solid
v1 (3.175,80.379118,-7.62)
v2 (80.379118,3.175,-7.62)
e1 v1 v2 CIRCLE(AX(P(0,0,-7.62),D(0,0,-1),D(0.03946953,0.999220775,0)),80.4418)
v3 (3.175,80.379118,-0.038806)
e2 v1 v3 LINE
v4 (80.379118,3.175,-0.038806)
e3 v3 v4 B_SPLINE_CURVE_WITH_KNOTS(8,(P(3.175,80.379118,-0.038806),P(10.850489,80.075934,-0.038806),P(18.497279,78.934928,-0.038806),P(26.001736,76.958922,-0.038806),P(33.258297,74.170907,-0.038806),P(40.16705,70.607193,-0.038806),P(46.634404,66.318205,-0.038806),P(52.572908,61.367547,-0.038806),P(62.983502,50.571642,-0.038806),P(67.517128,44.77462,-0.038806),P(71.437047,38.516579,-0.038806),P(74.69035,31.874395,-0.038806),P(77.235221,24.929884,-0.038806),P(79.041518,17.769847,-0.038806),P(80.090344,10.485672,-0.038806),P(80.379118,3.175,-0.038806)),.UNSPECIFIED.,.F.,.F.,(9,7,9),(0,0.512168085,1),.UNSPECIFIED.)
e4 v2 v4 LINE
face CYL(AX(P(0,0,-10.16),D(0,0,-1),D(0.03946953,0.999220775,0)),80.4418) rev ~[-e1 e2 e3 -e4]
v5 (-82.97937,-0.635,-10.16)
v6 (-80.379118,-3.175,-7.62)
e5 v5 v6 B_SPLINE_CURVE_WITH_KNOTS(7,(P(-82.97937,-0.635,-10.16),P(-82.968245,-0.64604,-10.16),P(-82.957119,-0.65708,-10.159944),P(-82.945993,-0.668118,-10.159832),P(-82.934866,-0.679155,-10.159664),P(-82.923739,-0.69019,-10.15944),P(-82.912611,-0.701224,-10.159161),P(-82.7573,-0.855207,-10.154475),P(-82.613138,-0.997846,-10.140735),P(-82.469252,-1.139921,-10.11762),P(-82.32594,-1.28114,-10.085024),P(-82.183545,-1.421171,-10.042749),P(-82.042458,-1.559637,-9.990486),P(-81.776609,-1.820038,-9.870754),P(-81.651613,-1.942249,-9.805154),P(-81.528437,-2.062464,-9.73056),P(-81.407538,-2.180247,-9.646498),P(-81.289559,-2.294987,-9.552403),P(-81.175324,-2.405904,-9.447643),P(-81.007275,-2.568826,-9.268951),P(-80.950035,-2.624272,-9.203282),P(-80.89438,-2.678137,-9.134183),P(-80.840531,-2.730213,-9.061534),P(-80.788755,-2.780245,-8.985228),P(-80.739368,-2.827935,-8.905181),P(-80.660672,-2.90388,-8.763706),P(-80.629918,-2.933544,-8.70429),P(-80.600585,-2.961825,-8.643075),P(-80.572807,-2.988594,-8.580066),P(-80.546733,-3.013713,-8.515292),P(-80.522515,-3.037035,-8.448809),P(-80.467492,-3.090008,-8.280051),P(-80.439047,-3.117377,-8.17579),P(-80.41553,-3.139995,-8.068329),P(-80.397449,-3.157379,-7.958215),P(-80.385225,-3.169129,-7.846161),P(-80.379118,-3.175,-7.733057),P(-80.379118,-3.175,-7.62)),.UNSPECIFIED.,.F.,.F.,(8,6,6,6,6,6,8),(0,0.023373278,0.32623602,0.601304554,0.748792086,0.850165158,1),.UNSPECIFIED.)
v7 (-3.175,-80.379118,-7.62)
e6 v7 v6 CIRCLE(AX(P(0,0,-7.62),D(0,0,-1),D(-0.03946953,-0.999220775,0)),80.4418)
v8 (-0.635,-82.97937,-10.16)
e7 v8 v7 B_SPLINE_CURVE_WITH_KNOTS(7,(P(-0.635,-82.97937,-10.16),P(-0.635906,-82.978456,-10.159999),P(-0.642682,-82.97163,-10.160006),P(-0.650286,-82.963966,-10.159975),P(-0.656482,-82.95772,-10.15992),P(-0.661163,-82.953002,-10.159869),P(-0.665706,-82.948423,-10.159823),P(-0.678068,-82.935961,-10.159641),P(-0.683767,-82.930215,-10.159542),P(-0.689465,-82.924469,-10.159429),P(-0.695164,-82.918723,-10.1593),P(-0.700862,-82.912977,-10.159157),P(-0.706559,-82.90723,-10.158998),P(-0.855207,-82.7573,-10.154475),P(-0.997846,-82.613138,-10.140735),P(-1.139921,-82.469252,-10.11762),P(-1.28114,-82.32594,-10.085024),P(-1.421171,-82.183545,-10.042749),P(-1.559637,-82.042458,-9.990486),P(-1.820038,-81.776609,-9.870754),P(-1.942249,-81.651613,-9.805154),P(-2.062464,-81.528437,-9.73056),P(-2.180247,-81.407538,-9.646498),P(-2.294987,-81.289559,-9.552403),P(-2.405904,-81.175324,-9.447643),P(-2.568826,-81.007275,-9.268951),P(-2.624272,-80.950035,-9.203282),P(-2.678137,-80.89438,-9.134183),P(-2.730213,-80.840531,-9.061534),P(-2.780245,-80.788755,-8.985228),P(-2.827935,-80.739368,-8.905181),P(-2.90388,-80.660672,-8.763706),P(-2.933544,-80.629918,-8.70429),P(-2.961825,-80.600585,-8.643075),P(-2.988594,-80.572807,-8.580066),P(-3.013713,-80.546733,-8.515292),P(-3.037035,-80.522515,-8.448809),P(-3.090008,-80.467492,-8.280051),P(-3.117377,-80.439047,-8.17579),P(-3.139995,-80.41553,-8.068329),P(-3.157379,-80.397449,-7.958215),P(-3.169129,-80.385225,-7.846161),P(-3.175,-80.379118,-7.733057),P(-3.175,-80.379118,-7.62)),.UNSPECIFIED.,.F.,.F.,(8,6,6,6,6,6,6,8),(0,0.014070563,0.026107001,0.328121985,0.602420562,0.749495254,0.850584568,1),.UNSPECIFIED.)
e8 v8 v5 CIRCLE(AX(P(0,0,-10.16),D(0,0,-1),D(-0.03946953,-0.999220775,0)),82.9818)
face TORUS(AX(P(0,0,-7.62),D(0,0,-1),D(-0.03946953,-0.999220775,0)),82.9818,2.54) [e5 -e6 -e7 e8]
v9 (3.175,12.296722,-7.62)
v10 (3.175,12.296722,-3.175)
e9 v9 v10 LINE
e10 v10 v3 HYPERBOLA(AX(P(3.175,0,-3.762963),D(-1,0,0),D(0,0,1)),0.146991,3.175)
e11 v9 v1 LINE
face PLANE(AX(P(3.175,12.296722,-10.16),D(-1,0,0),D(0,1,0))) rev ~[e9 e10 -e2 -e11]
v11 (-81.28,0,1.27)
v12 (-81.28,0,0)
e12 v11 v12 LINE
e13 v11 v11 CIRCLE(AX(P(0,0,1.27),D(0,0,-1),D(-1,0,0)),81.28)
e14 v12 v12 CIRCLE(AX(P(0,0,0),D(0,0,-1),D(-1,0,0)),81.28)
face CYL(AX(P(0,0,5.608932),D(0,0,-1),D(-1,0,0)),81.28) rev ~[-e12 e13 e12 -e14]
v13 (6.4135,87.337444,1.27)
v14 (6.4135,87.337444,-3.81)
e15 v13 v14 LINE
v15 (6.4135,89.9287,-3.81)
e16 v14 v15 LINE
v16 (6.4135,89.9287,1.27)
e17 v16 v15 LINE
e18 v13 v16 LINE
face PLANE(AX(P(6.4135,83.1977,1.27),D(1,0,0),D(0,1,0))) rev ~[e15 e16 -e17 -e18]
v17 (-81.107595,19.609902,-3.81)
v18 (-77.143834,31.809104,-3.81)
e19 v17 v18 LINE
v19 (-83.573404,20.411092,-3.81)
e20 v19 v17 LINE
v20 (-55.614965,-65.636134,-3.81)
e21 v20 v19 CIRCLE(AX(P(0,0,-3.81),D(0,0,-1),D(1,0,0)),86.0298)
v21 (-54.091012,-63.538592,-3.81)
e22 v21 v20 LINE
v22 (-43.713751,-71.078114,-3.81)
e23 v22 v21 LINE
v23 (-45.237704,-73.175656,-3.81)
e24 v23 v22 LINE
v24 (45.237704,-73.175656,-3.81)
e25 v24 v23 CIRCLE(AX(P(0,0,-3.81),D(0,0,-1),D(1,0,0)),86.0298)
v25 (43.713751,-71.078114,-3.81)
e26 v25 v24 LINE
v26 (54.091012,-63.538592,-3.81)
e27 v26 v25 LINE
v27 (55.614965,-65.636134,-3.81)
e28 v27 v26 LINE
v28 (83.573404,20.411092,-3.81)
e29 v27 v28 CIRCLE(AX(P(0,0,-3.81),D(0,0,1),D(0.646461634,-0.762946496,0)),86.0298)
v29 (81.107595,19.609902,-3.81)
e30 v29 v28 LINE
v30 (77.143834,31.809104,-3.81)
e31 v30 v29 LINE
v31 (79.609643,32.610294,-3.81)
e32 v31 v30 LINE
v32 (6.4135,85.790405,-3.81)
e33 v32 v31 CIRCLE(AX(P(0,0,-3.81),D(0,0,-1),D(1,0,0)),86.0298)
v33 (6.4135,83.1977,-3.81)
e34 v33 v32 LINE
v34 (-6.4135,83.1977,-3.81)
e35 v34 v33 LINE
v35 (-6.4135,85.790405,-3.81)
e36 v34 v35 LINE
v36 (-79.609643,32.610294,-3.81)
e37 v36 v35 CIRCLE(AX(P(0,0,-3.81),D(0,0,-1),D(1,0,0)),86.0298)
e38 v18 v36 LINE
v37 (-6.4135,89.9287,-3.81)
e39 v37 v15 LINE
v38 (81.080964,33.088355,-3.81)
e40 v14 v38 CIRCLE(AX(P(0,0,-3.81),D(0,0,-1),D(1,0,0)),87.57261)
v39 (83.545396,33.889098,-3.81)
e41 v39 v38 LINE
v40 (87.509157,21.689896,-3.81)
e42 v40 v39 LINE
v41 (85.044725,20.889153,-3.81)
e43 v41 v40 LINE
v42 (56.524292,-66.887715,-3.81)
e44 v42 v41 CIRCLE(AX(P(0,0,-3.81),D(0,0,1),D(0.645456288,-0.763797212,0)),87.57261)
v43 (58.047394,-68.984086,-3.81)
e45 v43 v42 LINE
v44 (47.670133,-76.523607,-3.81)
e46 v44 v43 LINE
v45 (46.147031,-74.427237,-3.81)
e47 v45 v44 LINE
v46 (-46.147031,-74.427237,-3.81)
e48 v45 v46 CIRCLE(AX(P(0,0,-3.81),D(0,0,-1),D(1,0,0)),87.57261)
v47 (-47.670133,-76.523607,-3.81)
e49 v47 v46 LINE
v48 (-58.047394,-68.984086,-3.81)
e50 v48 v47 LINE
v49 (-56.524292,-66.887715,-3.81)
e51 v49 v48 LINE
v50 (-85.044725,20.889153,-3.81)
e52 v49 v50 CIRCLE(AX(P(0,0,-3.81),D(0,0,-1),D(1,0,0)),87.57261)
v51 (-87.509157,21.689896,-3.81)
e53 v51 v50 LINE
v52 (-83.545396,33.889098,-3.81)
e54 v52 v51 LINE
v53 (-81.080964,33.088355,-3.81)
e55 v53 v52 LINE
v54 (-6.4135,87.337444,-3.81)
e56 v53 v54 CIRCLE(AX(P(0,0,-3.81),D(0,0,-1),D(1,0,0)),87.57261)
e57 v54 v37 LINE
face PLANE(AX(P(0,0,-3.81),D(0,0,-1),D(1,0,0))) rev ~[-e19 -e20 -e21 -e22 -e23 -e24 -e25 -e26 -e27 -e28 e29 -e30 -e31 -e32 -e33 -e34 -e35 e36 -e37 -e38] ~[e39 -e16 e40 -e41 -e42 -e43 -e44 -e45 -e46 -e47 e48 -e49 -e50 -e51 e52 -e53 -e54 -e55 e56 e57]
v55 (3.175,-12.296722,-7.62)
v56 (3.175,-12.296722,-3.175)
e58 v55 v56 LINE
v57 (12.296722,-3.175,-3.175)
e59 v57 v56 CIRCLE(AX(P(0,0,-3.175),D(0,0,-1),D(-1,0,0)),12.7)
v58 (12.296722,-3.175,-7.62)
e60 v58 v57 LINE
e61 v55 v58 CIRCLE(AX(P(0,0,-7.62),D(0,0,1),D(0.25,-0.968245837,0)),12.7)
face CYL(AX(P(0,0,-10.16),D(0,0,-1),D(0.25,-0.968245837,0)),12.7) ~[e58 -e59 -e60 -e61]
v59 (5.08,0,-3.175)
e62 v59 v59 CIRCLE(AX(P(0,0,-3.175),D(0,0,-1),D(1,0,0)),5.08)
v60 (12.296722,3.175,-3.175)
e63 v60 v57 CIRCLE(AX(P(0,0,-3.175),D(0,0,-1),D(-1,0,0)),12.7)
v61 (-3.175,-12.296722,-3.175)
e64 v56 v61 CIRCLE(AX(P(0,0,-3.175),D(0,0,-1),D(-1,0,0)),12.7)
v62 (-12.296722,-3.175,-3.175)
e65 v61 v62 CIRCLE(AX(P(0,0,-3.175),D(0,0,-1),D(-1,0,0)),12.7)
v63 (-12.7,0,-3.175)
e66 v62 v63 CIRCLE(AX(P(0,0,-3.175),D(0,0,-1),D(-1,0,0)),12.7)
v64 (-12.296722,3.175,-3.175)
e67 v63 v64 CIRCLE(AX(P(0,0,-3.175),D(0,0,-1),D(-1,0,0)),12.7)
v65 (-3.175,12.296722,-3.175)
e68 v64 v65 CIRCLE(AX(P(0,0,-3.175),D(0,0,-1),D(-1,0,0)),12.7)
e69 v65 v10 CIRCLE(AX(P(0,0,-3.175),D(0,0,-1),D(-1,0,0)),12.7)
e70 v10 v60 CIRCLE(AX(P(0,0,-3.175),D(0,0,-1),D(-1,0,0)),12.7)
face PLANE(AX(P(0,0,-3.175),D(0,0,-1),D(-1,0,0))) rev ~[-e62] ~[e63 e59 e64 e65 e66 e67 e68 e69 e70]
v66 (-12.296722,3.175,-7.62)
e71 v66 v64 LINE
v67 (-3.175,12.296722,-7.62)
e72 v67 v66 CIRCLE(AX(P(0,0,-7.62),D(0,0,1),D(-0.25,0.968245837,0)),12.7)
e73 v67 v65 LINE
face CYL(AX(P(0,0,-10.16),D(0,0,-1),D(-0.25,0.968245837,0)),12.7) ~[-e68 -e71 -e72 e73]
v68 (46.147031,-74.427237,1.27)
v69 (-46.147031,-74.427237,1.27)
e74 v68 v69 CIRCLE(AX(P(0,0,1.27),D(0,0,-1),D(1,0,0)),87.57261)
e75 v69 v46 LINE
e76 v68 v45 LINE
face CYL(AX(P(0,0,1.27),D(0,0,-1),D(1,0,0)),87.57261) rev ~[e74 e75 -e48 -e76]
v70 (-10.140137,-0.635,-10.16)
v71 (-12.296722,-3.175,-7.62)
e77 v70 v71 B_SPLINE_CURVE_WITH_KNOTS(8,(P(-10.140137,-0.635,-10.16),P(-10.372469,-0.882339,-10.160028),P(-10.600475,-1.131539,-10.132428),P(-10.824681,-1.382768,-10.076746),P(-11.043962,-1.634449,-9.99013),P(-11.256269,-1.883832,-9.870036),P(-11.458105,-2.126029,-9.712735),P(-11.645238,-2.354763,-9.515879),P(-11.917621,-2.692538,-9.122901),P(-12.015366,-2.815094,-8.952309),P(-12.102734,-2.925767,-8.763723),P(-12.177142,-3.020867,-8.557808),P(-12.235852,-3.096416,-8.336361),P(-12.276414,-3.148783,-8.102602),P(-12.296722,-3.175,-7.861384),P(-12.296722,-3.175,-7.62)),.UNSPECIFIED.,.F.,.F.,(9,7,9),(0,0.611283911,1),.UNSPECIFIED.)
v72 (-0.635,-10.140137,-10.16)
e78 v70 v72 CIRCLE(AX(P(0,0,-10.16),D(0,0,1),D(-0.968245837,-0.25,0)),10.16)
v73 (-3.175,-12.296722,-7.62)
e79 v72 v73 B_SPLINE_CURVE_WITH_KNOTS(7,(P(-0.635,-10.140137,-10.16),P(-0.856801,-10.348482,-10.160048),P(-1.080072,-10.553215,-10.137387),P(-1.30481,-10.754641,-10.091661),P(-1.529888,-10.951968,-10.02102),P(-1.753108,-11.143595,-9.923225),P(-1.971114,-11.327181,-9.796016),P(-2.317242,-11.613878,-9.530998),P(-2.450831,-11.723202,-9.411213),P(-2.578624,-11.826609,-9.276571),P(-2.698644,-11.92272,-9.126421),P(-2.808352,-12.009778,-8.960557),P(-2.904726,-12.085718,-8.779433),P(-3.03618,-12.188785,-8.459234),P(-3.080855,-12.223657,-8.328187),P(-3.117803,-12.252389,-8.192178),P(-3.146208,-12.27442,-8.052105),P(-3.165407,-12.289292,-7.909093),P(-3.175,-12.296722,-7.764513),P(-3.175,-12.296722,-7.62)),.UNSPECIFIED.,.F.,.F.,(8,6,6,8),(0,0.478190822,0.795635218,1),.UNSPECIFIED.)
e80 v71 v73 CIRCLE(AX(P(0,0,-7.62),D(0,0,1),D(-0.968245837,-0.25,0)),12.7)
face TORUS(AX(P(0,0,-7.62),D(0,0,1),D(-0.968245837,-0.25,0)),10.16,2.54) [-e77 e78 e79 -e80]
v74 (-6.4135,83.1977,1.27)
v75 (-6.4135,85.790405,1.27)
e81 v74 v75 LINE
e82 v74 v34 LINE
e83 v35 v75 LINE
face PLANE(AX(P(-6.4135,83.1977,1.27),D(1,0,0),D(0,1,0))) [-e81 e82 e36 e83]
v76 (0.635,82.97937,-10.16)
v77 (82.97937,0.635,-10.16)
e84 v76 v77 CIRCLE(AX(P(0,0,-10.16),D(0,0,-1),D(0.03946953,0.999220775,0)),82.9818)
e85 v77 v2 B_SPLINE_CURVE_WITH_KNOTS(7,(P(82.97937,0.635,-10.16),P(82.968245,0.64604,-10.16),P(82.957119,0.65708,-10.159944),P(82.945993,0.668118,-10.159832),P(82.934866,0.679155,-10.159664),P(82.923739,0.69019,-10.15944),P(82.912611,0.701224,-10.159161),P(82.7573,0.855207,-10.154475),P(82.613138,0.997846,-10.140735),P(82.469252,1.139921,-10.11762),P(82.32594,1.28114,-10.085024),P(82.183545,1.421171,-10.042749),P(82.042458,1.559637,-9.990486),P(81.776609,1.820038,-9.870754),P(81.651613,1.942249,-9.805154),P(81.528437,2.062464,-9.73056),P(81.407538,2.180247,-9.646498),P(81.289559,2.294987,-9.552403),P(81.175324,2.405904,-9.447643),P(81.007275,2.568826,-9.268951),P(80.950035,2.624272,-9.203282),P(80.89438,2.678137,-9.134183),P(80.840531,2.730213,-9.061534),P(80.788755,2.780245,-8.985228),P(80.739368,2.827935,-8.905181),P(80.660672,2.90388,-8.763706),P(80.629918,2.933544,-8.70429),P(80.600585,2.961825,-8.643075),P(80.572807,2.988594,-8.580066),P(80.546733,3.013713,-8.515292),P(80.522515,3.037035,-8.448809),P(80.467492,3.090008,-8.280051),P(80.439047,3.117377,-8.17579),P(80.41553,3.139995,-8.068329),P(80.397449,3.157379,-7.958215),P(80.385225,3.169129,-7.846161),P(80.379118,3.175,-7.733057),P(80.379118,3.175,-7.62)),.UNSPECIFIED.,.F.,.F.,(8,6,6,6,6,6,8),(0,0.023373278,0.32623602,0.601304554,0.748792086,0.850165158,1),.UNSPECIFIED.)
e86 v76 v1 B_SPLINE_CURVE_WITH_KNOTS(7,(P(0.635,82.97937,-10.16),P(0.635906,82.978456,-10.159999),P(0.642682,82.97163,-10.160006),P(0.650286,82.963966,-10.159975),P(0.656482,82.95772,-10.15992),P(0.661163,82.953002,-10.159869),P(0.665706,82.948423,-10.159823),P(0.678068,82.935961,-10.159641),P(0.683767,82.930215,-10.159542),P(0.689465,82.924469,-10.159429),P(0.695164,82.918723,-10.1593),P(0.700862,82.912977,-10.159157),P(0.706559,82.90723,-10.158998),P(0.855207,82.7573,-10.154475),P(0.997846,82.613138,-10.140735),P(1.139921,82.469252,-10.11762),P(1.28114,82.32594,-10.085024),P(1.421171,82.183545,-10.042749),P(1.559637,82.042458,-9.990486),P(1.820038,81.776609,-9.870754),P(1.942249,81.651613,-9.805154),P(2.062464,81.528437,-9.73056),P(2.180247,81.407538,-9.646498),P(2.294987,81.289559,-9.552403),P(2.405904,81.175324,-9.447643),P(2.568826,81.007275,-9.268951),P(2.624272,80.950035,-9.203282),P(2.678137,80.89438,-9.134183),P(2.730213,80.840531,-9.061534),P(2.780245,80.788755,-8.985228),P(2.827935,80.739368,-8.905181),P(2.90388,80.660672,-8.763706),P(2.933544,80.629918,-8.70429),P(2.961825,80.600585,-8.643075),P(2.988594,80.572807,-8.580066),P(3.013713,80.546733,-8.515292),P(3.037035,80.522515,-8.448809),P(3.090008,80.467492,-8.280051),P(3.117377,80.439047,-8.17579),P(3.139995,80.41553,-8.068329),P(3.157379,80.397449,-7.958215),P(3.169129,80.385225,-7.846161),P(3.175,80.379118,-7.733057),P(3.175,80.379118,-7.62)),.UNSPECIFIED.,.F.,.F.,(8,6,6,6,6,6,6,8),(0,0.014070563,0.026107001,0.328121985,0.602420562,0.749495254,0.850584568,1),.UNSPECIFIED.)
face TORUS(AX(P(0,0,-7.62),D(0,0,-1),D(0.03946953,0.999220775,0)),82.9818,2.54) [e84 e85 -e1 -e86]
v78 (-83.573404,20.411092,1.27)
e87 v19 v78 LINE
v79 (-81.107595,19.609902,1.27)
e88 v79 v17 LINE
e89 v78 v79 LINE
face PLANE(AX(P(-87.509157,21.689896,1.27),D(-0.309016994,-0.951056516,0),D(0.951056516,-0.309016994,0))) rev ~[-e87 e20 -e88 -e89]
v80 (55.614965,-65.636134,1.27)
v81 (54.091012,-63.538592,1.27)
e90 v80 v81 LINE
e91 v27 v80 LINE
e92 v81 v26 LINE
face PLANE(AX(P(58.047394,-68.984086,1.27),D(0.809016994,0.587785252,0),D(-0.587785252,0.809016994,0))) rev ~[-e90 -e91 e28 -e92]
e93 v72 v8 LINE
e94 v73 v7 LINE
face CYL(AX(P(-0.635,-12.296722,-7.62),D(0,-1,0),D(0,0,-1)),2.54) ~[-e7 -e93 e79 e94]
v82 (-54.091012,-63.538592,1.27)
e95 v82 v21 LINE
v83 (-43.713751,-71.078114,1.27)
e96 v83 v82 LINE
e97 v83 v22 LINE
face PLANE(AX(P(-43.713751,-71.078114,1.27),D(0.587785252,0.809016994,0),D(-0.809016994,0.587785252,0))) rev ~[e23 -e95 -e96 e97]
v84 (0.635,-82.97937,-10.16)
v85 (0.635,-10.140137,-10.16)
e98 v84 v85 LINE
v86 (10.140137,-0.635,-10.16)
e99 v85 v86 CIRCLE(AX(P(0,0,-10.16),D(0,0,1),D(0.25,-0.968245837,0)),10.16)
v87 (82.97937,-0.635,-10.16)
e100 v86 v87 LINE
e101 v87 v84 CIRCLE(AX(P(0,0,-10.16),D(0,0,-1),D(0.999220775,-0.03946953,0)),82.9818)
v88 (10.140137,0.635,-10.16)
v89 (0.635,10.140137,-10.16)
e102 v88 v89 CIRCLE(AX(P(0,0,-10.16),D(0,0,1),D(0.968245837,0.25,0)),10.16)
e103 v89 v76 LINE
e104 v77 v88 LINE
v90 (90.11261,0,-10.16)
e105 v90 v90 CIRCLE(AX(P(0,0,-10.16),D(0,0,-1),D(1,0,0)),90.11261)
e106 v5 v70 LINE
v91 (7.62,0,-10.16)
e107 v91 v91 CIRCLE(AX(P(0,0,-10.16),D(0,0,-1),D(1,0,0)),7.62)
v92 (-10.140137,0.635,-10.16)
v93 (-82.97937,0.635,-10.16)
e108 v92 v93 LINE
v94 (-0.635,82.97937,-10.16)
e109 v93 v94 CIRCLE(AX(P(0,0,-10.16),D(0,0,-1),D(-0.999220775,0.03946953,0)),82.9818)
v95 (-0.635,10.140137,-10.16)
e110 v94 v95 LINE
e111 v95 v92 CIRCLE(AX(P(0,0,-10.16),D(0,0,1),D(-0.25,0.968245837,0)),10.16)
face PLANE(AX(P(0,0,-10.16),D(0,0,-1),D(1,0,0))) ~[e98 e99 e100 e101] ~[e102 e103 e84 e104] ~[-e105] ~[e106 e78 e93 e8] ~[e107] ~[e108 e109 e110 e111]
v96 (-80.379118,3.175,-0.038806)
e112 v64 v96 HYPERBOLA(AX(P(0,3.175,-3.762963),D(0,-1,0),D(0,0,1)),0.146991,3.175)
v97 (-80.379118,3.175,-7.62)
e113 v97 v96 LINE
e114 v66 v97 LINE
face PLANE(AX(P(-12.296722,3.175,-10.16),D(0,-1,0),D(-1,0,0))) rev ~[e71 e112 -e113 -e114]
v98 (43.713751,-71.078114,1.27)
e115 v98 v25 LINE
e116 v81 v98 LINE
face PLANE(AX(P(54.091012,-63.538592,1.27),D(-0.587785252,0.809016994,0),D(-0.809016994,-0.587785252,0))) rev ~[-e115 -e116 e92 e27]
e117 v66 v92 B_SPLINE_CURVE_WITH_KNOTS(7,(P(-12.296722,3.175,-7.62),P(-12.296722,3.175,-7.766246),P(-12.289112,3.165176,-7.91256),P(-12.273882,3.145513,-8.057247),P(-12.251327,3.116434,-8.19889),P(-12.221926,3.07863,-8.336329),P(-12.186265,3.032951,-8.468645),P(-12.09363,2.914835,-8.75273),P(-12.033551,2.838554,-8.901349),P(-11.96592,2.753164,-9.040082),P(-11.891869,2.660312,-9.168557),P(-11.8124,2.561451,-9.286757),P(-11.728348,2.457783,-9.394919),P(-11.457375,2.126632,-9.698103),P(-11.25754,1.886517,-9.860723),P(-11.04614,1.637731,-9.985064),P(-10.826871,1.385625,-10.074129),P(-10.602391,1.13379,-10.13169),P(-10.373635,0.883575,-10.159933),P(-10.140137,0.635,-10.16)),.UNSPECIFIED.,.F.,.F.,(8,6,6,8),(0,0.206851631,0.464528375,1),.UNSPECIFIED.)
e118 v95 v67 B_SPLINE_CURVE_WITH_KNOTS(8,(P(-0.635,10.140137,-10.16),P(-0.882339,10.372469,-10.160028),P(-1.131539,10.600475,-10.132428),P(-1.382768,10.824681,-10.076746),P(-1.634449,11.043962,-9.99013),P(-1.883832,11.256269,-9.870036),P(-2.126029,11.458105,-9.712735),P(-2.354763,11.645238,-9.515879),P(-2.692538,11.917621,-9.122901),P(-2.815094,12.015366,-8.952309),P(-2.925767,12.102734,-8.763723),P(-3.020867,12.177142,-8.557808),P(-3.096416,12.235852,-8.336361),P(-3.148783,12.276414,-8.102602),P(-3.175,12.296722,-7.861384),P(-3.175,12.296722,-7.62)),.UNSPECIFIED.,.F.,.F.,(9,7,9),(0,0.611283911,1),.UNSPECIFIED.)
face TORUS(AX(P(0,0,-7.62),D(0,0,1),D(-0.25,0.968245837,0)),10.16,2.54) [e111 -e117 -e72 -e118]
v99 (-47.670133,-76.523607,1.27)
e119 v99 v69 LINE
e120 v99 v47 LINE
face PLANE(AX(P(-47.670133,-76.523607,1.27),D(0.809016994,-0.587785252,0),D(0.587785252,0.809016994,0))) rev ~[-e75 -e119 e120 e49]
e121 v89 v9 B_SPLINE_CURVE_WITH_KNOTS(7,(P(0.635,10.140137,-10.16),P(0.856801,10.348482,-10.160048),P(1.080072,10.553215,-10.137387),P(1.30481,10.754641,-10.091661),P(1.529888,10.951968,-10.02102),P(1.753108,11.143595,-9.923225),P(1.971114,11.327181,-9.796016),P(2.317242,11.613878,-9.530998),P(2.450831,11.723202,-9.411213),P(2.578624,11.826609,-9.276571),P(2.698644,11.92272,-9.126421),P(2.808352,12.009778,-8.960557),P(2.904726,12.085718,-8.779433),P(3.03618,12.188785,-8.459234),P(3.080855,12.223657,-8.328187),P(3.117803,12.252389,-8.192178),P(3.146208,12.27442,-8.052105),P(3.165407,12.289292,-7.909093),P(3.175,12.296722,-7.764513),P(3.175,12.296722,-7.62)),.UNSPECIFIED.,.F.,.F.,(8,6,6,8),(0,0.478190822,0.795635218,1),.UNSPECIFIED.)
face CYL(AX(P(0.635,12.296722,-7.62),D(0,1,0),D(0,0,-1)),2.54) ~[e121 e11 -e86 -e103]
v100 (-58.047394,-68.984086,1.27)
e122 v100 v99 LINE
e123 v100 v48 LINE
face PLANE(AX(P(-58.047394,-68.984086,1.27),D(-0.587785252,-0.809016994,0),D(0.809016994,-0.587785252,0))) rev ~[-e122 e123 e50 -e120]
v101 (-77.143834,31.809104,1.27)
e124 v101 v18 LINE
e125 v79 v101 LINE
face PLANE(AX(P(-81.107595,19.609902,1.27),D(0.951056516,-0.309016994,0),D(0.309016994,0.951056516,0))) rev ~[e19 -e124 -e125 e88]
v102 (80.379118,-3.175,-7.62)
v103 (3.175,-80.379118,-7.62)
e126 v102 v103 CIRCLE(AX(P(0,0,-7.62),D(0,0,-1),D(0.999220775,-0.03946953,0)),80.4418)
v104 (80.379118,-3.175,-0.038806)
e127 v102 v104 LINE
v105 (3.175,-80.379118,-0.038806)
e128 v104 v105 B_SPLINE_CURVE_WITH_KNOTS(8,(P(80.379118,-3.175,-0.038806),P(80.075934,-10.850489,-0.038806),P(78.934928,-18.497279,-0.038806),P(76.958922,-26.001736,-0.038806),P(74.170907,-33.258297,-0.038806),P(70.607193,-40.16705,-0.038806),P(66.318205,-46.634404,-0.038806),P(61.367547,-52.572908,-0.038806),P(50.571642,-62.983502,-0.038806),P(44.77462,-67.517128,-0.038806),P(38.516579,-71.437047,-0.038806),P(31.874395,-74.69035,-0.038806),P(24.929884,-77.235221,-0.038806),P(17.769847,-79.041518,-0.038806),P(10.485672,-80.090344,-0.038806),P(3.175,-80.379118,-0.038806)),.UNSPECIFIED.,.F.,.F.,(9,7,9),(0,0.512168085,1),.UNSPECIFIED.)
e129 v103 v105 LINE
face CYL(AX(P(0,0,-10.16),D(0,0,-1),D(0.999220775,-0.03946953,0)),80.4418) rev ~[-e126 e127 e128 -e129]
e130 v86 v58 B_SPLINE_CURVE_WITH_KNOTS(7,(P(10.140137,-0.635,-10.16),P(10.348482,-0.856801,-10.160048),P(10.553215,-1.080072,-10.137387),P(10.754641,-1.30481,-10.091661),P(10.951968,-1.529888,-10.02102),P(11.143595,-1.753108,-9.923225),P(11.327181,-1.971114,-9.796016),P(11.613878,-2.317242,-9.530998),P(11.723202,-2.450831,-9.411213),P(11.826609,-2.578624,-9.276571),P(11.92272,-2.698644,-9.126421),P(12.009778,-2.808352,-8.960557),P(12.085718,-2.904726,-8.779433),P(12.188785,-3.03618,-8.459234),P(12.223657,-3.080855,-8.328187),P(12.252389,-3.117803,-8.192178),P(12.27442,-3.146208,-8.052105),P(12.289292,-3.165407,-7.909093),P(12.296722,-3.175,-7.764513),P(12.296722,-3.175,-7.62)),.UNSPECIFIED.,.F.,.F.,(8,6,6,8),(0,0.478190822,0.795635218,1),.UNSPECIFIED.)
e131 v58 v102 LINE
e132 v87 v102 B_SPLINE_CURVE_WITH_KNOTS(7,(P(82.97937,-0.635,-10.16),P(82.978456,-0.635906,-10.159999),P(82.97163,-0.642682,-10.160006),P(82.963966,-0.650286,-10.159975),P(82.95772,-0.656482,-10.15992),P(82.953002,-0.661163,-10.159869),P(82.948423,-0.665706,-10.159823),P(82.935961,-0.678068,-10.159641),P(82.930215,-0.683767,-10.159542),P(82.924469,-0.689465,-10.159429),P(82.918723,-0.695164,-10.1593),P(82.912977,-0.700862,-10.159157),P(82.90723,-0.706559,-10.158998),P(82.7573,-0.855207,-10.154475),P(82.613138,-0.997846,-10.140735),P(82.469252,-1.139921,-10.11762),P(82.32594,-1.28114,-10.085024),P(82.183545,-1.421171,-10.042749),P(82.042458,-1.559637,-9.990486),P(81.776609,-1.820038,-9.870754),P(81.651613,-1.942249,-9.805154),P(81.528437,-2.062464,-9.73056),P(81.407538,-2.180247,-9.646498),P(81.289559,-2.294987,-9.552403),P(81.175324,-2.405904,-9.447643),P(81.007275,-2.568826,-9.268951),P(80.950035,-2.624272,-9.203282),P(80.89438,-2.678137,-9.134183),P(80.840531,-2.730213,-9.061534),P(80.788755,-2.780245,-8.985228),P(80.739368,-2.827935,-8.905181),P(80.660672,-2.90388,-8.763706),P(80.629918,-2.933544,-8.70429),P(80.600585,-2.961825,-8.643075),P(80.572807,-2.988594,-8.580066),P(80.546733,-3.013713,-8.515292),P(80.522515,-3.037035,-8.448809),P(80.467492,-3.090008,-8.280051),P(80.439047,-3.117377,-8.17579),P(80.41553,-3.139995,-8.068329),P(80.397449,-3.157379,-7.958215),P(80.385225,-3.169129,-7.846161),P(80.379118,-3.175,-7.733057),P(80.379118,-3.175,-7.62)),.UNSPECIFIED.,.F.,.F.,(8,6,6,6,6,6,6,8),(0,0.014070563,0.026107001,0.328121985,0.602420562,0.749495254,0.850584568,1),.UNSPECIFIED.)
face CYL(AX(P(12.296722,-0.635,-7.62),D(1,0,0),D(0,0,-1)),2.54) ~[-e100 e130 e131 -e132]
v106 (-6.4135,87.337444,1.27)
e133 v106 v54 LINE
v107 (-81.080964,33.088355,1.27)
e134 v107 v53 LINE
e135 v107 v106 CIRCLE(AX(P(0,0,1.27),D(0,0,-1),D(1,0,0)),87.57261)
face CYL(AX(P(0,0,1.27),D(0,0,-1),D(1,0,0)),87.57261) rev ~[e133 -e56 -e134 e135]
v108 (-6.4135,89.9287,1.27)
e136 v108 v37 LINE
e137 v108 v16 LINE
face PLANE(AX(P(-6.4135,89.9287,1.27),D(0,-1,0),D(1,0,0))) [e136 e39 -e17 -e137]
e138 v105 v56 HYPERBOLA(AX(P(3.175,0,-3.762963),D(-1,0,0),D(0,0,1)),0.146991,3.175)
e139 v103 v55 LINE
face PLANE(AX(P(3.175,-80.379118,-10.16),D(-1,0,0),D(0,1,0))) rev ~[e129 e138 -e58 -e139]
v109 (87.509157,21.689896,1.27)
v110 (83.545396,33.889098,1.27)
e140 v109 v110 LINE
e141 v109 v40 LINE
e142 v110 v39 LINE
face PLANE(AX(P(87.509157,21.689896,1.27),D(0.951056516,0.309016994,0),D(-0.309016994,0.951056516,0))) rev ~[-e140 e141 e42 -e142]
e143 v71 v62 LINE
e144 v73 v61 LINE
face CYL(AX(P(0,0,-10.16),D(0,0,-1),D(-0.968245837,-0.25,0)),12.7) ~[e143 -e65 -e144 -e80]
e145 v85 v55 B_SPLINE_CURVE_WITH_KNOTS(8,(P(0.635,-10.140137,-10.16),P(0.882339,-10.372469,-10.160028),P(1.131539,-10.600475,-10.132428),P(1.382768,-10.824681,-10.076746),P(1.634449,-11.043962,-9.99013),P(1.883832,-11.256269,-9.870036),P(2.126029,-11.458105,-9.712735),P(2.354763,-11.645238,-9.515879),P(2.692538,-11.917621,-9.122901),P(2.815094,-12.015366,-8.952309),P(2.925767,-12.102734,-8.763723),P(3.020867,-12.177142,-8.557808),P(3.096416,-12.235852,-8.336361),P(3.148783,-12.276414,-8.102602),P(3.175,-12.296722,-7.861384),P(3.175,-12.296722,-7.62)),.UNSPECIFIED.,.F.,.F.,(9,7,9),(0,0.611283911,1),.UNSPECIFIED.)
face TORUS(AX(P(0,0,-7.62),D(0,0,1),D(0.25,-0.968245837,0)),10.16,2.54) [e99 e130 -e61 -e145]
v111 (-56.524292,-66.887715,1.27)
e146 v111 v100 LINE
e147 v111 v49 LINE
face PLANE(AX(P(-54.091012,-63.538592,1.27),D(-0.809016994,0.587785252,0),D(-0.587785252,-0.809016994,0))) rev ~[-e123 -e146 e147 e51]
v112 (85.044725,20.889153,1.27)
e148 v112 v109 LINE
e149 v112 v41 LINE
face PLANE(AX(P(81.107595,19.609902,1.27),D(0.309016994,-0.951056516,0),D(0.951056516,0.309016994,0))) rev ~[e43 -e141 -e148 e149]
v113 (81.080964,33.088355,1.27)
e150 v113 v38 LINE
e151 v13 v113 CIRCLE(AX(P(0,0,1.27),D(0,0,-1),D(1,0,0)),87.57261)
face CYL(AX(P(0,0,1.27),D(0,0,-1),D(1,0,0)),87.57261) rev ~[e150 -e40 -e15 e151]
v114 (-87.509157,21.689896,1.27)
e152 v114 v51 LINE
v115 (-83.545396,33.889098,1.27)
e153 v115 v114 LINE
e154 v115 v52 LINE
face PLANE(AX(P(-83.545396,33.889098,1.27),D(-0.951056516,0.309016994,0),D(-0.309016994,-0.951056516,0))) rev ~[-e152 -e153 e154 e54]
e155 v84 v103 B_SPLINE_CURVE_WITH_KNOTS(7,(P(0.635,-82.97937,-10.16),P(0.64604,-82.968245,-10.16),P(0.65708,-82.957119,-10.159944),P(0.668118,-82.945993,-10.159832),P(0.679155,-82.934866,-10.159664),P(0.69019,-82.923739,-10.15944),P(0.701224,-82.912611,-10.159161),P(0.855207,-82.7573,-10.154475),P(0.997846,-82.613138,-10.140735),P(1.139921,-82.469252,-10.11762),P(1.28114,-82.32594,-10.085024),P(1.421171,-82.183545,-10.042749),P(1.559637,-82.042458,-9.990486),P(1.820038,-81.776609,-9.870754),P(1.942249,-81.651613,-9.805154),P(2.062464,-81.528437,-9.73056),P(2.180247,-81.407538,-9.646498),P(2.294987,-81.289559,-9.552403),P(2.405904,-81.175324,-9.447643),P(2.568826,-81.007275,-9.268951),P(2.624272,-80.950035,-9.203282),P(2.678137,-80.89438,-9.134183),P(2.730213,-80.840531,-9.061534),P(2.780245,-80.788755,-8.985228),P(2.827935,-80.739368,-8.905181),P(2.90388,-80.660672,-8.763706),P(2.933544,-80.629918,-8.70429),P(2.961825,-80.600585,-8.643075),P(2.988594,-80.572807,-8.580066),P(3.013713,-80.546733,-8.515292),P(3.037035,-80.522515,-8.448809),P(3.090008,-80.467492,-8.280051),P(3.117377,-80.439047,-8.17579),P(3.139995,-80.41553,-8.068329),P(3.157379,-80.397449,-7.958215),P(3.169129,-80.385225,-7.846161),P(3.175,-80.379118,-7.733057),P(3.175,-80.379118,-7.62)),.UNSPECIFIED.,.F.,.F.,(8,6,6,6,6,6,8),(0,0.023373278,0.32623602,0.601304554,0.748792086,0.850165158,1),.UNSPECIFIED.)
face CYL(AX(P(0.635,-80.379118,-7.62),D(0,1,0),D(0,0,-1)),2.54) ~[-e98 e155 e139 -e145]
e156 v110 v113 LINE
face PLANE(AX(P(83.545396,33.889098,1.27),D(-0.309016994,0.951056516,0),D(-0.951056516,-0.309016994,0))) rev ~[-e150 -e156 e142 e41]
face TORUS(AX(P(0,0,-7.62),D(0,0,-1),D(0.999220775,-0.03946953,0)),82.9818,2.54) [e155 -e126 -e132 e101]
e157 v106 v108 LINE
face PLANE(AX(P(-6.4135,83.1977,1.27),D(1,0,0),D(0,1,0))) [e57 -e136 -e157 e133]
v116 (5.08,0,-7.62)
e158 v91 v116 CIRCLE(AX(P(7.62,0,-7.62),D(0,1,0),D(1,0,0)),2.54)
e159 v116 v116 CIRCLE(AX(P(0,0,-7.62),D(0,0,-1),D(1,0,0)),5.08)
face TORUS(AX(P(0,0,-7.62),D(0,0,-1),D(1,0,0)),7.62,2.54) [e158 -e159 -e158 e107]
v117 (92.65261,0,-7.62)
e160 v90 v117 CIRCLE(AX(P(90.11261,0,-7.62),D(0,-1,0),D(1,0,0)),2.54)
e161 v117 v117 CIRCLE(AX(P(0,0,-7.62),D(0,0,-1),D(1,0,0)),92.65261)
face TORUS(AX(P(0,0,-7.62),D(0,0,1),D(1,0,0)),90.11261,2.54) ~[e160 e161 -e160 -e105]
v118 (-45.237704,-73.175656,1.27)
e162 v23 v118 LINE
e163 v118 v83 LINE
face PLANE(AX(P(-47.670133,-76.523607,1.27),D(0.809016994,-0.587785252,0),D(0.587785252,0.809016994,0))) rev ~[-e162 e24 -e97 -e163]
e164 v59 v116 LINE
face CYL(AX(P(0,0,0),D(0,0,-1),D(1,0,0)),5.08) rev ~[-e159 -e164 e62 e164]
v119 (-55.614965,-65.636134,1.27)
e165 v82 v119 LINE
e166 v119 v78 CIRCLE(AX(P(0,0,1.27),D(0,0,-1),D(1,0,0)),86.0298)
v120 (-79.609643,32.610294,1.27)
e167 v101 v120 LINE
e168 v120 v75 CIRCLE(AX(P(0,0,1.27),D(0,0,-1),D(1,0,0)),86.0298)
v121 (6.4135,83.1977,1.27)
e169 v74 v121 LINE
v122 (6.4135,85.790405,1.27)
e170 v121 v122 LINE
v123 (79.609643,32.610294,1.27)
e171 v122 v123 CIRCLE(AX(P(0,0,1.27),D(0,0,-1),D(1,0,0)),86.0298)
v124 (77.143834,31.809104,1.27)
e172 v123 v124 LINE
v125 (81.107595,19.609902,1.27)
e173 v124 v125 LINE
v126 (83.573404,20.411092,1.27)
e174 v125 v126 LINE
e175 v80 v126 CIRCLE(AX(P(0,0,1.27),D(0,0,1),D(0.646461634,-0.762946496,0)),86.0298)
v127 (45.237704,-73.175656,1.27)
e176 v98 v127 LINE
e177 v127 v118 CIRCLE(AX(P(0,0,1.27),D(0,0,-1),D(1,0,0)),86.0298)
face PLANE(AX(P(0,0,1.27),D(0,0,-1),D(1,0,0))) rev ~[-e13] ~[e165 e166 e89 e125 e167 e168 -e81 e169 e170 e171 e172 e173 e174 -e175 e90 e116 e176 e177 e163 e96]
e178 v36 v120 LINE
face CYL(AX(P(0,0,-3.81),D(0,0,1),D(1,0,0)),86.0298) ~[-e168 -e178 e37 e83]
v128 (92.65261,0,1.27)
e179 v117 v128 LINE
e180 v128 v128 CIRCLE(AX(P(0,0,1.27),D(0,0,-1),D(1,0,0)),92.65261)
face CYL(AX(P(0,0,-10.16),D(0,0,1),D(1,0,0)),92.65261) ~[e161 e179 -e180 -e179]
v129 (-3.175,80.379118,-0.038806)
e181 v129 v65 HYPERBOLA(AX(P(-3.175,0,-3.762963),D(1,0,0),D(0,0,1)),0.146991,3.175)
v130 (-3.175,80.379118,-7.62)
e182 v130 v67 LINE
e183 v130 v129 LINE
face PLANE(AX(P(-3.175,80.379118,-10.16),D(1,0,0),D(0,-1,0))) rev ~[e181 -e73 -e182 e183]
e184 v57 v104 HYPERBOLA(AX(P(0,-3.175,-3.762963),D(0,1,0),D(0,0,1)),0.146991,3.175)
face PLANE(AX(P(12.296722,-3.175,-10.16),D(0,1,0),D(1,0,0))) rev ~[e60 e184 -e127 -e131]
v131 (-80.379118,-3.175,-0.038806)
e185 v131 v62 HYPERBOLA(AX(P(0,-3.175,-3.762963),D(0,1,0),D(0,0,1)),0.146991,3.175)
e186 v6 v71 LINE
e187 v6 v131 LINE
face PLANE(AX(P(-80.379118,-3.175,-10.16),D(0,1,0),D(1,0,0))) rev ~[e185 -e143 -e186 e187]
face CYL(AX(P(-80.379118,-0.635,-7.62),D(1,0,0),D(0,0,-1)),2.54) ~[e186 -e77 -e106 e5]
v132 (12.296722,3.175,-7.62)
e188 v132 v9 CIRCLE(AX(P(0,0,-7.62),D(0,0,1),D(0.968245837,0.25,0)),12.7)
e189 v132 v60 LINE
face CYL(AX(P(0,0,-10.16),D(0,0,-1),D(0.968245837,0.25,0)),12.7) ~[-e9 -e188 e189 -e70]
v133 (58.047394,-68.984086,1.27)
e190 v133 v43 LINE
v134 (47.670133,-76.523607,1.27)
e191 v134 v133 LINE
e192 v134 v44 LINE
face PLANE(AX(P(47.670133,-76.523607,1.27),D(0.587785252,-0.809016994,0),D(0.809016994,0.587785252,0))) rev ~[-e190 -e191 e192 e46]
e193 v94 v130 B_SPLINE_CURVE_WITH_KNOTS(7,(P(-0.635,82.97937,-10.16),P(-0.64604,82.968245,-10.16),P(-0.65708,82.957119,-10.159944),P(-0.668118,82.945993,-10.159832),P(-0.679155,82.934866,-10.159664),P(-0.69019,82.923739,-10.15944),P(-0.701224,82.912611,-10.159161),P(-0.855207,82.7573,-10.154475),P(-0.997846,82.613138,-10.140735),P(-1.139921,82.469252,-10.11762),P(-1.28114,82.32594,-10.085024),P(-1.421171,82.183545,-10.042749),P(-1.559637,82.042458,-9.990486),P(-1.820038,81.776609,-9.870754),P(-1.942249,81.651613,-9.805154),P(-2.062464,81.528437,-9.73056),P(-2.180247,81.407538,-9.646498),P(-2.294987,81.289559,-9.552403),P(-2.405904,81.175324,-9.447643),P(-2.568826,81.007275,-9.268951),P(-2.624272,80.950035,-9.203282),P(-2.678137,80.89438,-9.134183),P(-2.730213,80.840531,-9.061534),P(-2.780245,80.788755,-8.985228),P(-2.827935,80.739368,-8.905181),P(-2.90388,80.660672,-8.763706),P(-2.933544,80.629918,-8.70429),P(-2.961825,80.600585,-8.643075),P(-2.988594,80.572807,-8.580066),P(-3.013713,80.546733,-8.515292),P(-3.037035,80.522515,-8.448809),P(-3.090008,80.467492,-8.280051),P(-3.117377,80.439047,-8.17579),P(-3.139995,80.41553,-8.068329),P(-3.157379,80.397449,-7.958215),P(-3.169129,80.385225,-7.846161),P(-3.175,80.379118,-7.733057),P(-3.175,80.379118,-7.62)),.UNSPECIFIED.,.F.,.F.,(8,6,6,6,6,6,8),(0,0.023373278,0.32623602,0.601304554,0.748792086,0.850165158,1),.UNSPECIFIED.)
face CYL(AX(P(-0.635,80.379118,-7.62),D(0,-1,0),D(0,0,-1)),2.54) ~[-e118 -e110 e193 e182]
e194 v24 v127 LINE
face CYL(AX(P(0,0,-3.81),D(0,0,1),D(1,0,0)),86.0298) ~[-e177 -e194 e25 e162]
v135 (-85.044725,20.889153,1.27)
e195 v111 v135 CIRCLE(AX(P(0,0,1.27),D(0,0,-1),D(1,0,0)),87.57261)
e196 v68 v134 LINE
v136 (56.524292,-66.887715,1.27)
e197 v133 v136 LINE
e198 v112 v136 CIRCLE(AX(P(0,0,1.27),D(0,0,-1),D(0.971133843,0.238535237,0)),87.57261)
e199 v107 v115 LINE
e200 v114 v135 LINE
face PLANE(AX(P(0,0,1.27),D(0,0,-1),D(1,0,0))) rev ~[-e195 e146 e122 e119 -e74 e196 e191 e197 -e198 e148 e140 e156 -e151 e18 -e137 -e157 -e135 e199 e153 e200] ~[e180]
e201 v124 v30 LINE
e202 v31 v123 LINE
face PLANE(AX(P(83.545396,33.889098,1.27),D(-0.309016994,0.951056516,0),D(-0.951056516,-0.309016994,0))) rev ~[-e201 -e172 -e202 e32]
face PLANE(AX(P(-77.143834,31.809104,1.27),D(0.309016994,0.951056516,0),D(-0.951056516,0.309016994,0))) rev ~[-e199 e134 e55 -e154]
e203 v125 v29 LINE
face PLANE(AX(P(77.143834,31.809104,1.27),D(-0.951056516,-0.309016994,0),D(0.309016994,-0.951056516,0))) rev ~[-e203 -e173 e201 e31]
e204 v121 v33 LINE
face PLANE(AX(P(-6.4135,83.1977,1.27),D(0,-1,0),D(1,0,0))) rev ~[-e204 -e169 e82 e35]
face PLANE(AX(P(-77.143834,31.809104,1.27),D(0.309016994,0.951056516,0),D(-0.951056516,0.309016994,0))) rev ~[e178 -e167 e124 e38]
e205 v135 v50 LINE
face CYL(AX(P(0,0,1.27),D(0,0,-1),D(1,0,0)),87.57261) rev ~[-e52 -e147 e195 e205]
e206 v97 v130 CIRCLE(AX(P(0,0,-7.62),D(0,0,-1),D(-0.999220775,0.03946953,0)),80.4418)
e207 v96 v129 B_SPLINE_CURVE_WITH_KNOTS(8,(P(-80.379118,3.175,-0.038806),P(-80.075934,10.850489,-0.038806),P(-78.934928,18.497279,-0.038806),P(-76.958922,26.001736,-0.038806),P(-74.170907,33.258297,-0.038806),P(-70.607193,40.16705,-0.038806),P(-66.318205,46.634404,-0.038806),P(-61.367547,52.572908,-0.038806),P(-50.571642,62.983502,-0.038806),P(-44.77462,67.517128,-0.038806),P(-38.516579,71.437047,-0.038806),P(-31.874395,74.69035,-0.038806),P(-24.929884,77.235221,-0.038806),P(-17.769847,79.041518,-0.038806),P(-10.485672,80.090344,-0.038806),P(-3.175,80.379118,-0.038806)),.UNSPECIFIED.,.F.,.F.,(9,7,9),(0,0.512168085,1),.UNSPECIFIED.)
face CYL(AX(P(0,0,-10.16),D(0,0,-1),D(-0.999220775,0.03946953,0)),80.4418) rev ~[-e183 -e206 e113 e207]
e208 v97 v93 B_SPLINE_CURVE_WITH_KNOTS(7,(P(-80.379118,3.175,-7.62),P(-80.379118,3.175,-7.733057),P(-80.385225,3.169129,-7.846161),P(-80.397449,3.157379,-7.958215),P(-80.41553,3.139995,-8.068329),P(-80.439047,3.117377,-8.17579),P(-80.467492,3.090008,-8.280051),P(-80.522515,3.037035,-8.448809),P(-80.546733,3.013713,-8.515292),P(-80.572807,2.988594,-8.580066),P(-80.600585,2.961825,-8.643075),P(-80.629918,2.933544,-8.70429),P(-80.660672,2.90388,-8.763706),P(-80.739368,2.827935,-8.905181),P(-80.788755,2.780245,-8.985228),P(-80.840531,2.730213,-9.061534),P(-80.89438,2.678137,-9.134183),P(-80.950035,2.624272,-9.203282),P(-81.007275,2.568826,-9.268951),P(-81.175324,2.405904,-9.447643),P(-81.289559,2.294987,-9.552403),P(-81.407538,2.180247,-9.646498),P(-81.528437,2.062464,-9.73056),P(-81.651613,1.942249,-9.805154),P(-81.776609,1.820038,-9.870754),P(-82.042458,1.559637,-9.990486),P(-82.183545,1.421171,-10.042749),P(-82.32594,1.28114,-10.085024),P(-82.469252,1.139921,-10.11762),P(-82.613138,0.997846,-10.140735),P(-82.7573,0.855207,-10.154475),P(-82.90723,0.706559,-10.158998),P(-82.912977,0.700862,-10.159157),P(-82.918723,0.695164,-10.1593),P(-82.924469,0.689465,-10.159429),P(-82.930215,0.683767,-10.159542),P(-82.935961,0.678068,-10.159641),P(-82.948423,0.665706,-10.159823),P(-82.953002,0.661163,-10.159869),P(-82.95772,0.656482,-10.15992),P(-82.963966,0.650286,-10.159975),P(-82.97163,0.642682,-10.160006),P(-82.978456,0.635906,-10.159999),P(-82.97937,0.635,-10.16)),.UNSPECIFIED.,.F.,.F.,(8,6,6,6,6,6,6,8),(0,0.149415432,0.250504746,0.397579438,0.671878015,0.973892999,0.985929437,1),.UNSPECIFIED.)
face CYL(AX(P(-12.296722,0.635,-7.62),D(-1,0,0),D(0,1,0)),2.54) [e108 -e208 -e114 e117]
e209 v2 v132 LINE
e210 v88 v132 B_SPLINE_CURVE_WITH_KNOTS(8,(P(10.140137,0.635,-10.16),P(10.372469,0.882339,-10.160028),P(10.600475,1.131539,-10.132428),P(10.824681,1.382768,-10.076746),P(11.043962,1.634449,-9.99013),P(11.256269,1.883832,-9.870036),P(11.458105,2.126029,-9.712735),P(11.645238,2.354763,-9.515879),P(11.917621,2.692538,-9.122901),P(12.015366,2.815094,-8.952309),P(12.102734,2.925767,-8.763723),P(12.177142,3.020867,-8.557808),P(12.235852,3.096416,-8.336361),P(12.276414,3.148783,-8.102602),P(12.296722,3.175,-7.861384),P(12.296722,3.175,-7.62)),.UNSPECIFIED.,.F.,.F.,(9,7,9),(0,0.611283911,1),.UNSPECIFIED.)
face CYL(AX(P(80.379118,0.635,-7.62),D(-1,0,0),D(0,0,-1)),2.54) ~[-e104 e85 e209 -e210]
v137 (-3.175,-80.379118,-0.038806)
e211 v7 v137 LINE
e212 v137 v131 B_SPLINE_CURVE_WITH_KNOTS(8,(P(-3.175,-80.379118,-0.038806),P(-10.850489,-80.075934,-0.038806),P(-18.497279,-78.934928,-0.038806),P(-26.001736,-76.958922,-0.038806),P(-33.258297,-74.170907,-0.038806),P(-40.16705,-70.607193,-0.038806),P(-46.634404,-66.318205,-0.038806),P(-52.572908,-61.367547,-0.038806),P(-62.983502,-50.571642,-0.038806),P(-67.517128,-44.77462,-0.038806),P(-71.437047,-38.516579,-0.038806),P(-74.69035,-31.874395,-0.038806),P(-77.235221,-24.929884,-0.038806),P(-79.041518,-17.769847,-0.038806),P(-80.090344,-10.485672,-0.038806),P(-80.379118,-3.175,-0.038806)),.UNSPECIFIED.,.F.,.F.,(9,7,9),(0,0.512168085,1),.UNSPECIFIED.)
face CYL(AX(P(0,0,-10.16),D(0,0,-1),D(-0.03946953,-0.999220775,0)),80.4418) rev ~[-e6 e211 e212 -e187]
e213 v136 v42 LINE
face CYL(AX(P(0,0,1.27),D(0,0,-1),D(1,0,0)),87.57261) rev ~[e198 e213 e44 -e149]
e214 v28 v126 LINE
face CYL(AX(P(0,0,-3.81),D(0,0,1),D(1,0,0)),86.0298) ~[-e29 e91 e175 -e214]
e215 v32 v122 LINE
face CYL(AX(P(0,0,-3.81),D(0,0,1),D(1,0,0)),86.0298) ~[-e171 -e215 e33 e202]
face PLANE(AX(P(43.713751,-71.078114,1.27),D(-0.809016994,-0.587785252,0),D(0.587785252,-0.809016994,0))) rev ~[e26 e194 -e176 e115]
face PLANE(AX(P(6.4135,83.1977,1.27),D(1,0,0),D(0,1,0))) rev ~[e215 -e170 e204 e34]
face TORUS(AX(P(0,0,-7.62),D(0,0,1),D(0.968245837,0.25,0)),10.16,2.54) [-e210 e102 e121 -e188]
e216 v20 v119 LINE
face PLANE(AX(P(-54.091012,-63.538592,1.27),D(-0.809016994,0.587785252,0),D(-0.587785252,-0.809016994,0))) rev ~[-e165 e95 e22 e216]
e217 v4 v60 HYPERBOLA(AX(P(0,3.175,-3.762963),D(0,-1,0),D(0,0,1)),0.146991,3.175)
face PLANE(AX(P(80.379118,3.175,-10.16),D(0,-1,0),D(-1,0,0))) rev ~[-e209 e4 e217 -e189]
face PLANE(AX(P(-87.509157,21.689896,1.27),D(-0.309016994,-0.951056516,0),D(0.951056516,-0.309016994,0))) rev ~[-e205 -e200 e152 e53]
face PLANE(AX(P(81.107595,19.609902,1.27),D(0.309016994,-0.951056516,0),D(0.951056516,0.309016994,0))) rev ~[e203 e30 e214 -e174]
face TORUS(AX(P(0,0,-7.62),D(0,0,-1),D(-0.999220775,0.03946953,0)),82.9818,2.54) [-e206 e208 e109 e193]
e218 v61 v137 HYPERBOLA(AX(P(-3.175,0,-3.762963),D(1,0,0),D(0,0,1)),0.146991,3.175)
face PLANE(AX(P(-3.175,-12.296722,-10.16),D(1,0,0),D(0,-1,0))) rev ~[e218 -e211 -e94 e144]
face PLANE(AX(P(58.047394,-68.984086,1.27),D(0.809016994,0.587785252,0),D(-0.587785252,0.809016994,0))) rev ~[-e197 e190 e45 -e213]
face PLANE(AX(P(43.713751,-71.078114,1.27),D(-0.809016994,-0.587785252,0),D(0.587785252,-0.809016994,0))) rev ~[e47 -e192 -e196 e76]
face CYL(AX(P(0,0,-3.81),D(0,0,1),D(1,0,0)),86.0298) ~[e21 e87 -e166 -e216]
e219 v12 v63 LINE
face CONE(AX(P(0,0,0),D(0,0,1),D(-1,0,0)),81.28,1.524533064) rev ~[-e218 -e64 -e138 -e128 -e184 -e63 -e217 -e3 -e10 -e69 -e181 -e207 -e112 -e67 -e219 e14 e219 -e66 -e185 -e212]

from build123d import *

# Parameters (mm, degrees)
F1_FACE1_R   = 80.9498
F1_FACE1_R_2 = 5.08
F3_DEPTH     = 25.4
F4_W         = 12.827
F4_H         = 6.731
F5_DEPTH     = 5.08
F10_R        = 2.54


with BuildPart() as f1:
    # F0 (on Front) → F1 (revolve)
    with BuildSketch(Plane.XZ):
        Polygon((80.9498, 0), (5.08, 0), (5.08, -10.16), (92.6526099873, -10.16), (92.6526099873, 1.27), (87.5726099873, 1.27), (87.5726099873, -3.81), (86.0298, -3.81), (86.0298, 1.27), (80.9498, 1.27), align=None)
    revolve(axis=Axis((0, 0, -1.5273375125), (0, 0, -1)))

    # F2 (on face) + F1_face1 (on face) → F3 (cut)
    with BuildSketch(Plane(origin=(0, 0, -10.16), x_dir=(1, 0, 0), z_dir=(0, 0, -1))):
        with BuildLine():
            Line((-3.175, 12.2967221242), (-3.175, 80.3791177001))
            ThreePointArc((-3.175, 80.3791177001), (-56.8809422709, 56.8809422709), (-80.3791177001, 3.175))
            Line((-80.3791177001, 3.175), (-12.2967221242, 3.175))
            ThreePointArc((-12.2967221242, 3.175), (-8.9802561211, 8.9802561211), (-3.175, 12.2967221242))
        make_face()
        with BuildLine():
            Line((-12.2967221242, -3.175), (-80.3791177001, -3.175))
            ThreePointArc((-80.3791177001, -3.175), (-56.8809422709, -56.8809422709), (-3.175, -80.3791177001))
            Line((-3.175, -80.3791177001), (-3.175, -12.2967221242))
            ThreePointArc((-3.175, -12.2967221242), (-8.9802561211, -8.9802561211), (-12.2967221242, -3.175))
        make_face()
        with BuildLine():
            Line((12.2967221242, 3.175), (80.3791177001, 3.175))
            ThreePointArc((80.3791177001, 3.175), (56.8809422709, 56.8809422709), (3.175, 80.3791177001))
            Line((3.175, 80.3791177001), (3.175, 12.2967221242))
            ThreePointArc((3.175, 12.2967221242), (8.9802561211, 8.9802561211), (12.2967221242, 3.175))
        make_face()
        with BuildLine():
            Line((3.175, -12.2967221242), (3.175, -80.3791177001))
            ThreePointArc((3.175, -80.3791177001), (56.8809422709, -56.8809422709), (80.3791177001, -3.175))
            Line((80.3791177001, -3.175), (12.2967221242, -3.175))
            ThreePointArc((12.2967221242, -3.175), (8.9802561211, -8.9802561211), (3.175, -12.2967221242))
        make_face()
    with BuildSketch(Plane.XY):
        Circle(F1_FACE1_R)
        Circle(F1_FACE1_R_2, mode=Mode.SUBTRACT)
    extrude(amount=-F3_DEPTH, dir=(0, 0, -1), mode=Mode.SUBTRACT)

    # F4 (on face) → F5 (cut)
    with BuildSketch(Plane.XY.offset(1.27)):
        with Locations((0, 86.5632)):
            Rectangle(F4_W, F4_H)
        Polygon((-83.5453956435, 33.8890975493), (-87.5091566304, 21.6898956148), (-81.1075952192, 19.6099022256), (-77.1438342323, 31.8091041602), align=None)
        Polygon((-58.0473941113, -68.9840858665), (-47.6701331244, -76.5236072976), (-43.7137505912, -71.0781139085), (-54.0910115781, -63.5385924773), align=None)
        Polygon((47.6701331244, -76.5236072976), (58.0473941113, -68.9840858665), (54.0910115781, -63.5385924773), (43.7137505912, -71.0781139085), align=None)
        Polygon((87.5091566304, 21.6898956148), (83.5453956435, 33.8890975493), (77.1438342323, 31.8091041602), (81.1075952192, 19.6099022256), align=None)
    extrude(amount=-F5_DEPTH, mode=Mode.SUBTRACT)


with BuildPart() as f6_1:
    # F6: copy of F1
    add(f1.part)


with BuildPart() as f1_1:
    add(f1.part)

    # F8 (on Front) → F9 (revolve, cut)
    with BuildSketch(Plane.XZ):
        Polygon((-81.28, 0), (-12.7, -3.175), (-3.4997510334, -3.175), (-4.5655716038, 5.7565840118), (-81.28, 5.608932225), align=None)
    revolve(axis=Axis((0, 0, -8.0116291065), (0, 0, -1)), mode=Mode.SUBTRACT)

    # F10
    f10_edges = [f1_1.edges().sort_by_distance(p)[0] for p in [
        (-92.65261, 0, -10.16),
        (3.175, 46.33792, -10.16),
        (8.980256, 8.980256, -10.16),
        (46.33792, 3.175, -10.16),
        (56.880942, 56.880942, -10.16),
        (-5.08, 0, -10.16),
        (-46.33792, 3.175, -10.16),
        (-8.980256, 8.980256, -10.16),
        (-3.175, 46.33792, -10.16),
        (-56.880942, 56.880942, -10.16),
        (46.33792, -3.175, -10.16),
        (8.980256, -8.980256, -10.16),
        (3.175, -46.33792, -10.16),
        (56.880942, -56.880942, -10.16),
        (-56.880942, -56.880942, -10.16),
        (-3.175, -46.33792, -10.16),
        (-8.980256, -8.980256, -10.16),
        (-46.33792, -3.175, -10.16),
    ]]
    fillet(f10_edges, radius=F10_R)


solid = f1_1.part
